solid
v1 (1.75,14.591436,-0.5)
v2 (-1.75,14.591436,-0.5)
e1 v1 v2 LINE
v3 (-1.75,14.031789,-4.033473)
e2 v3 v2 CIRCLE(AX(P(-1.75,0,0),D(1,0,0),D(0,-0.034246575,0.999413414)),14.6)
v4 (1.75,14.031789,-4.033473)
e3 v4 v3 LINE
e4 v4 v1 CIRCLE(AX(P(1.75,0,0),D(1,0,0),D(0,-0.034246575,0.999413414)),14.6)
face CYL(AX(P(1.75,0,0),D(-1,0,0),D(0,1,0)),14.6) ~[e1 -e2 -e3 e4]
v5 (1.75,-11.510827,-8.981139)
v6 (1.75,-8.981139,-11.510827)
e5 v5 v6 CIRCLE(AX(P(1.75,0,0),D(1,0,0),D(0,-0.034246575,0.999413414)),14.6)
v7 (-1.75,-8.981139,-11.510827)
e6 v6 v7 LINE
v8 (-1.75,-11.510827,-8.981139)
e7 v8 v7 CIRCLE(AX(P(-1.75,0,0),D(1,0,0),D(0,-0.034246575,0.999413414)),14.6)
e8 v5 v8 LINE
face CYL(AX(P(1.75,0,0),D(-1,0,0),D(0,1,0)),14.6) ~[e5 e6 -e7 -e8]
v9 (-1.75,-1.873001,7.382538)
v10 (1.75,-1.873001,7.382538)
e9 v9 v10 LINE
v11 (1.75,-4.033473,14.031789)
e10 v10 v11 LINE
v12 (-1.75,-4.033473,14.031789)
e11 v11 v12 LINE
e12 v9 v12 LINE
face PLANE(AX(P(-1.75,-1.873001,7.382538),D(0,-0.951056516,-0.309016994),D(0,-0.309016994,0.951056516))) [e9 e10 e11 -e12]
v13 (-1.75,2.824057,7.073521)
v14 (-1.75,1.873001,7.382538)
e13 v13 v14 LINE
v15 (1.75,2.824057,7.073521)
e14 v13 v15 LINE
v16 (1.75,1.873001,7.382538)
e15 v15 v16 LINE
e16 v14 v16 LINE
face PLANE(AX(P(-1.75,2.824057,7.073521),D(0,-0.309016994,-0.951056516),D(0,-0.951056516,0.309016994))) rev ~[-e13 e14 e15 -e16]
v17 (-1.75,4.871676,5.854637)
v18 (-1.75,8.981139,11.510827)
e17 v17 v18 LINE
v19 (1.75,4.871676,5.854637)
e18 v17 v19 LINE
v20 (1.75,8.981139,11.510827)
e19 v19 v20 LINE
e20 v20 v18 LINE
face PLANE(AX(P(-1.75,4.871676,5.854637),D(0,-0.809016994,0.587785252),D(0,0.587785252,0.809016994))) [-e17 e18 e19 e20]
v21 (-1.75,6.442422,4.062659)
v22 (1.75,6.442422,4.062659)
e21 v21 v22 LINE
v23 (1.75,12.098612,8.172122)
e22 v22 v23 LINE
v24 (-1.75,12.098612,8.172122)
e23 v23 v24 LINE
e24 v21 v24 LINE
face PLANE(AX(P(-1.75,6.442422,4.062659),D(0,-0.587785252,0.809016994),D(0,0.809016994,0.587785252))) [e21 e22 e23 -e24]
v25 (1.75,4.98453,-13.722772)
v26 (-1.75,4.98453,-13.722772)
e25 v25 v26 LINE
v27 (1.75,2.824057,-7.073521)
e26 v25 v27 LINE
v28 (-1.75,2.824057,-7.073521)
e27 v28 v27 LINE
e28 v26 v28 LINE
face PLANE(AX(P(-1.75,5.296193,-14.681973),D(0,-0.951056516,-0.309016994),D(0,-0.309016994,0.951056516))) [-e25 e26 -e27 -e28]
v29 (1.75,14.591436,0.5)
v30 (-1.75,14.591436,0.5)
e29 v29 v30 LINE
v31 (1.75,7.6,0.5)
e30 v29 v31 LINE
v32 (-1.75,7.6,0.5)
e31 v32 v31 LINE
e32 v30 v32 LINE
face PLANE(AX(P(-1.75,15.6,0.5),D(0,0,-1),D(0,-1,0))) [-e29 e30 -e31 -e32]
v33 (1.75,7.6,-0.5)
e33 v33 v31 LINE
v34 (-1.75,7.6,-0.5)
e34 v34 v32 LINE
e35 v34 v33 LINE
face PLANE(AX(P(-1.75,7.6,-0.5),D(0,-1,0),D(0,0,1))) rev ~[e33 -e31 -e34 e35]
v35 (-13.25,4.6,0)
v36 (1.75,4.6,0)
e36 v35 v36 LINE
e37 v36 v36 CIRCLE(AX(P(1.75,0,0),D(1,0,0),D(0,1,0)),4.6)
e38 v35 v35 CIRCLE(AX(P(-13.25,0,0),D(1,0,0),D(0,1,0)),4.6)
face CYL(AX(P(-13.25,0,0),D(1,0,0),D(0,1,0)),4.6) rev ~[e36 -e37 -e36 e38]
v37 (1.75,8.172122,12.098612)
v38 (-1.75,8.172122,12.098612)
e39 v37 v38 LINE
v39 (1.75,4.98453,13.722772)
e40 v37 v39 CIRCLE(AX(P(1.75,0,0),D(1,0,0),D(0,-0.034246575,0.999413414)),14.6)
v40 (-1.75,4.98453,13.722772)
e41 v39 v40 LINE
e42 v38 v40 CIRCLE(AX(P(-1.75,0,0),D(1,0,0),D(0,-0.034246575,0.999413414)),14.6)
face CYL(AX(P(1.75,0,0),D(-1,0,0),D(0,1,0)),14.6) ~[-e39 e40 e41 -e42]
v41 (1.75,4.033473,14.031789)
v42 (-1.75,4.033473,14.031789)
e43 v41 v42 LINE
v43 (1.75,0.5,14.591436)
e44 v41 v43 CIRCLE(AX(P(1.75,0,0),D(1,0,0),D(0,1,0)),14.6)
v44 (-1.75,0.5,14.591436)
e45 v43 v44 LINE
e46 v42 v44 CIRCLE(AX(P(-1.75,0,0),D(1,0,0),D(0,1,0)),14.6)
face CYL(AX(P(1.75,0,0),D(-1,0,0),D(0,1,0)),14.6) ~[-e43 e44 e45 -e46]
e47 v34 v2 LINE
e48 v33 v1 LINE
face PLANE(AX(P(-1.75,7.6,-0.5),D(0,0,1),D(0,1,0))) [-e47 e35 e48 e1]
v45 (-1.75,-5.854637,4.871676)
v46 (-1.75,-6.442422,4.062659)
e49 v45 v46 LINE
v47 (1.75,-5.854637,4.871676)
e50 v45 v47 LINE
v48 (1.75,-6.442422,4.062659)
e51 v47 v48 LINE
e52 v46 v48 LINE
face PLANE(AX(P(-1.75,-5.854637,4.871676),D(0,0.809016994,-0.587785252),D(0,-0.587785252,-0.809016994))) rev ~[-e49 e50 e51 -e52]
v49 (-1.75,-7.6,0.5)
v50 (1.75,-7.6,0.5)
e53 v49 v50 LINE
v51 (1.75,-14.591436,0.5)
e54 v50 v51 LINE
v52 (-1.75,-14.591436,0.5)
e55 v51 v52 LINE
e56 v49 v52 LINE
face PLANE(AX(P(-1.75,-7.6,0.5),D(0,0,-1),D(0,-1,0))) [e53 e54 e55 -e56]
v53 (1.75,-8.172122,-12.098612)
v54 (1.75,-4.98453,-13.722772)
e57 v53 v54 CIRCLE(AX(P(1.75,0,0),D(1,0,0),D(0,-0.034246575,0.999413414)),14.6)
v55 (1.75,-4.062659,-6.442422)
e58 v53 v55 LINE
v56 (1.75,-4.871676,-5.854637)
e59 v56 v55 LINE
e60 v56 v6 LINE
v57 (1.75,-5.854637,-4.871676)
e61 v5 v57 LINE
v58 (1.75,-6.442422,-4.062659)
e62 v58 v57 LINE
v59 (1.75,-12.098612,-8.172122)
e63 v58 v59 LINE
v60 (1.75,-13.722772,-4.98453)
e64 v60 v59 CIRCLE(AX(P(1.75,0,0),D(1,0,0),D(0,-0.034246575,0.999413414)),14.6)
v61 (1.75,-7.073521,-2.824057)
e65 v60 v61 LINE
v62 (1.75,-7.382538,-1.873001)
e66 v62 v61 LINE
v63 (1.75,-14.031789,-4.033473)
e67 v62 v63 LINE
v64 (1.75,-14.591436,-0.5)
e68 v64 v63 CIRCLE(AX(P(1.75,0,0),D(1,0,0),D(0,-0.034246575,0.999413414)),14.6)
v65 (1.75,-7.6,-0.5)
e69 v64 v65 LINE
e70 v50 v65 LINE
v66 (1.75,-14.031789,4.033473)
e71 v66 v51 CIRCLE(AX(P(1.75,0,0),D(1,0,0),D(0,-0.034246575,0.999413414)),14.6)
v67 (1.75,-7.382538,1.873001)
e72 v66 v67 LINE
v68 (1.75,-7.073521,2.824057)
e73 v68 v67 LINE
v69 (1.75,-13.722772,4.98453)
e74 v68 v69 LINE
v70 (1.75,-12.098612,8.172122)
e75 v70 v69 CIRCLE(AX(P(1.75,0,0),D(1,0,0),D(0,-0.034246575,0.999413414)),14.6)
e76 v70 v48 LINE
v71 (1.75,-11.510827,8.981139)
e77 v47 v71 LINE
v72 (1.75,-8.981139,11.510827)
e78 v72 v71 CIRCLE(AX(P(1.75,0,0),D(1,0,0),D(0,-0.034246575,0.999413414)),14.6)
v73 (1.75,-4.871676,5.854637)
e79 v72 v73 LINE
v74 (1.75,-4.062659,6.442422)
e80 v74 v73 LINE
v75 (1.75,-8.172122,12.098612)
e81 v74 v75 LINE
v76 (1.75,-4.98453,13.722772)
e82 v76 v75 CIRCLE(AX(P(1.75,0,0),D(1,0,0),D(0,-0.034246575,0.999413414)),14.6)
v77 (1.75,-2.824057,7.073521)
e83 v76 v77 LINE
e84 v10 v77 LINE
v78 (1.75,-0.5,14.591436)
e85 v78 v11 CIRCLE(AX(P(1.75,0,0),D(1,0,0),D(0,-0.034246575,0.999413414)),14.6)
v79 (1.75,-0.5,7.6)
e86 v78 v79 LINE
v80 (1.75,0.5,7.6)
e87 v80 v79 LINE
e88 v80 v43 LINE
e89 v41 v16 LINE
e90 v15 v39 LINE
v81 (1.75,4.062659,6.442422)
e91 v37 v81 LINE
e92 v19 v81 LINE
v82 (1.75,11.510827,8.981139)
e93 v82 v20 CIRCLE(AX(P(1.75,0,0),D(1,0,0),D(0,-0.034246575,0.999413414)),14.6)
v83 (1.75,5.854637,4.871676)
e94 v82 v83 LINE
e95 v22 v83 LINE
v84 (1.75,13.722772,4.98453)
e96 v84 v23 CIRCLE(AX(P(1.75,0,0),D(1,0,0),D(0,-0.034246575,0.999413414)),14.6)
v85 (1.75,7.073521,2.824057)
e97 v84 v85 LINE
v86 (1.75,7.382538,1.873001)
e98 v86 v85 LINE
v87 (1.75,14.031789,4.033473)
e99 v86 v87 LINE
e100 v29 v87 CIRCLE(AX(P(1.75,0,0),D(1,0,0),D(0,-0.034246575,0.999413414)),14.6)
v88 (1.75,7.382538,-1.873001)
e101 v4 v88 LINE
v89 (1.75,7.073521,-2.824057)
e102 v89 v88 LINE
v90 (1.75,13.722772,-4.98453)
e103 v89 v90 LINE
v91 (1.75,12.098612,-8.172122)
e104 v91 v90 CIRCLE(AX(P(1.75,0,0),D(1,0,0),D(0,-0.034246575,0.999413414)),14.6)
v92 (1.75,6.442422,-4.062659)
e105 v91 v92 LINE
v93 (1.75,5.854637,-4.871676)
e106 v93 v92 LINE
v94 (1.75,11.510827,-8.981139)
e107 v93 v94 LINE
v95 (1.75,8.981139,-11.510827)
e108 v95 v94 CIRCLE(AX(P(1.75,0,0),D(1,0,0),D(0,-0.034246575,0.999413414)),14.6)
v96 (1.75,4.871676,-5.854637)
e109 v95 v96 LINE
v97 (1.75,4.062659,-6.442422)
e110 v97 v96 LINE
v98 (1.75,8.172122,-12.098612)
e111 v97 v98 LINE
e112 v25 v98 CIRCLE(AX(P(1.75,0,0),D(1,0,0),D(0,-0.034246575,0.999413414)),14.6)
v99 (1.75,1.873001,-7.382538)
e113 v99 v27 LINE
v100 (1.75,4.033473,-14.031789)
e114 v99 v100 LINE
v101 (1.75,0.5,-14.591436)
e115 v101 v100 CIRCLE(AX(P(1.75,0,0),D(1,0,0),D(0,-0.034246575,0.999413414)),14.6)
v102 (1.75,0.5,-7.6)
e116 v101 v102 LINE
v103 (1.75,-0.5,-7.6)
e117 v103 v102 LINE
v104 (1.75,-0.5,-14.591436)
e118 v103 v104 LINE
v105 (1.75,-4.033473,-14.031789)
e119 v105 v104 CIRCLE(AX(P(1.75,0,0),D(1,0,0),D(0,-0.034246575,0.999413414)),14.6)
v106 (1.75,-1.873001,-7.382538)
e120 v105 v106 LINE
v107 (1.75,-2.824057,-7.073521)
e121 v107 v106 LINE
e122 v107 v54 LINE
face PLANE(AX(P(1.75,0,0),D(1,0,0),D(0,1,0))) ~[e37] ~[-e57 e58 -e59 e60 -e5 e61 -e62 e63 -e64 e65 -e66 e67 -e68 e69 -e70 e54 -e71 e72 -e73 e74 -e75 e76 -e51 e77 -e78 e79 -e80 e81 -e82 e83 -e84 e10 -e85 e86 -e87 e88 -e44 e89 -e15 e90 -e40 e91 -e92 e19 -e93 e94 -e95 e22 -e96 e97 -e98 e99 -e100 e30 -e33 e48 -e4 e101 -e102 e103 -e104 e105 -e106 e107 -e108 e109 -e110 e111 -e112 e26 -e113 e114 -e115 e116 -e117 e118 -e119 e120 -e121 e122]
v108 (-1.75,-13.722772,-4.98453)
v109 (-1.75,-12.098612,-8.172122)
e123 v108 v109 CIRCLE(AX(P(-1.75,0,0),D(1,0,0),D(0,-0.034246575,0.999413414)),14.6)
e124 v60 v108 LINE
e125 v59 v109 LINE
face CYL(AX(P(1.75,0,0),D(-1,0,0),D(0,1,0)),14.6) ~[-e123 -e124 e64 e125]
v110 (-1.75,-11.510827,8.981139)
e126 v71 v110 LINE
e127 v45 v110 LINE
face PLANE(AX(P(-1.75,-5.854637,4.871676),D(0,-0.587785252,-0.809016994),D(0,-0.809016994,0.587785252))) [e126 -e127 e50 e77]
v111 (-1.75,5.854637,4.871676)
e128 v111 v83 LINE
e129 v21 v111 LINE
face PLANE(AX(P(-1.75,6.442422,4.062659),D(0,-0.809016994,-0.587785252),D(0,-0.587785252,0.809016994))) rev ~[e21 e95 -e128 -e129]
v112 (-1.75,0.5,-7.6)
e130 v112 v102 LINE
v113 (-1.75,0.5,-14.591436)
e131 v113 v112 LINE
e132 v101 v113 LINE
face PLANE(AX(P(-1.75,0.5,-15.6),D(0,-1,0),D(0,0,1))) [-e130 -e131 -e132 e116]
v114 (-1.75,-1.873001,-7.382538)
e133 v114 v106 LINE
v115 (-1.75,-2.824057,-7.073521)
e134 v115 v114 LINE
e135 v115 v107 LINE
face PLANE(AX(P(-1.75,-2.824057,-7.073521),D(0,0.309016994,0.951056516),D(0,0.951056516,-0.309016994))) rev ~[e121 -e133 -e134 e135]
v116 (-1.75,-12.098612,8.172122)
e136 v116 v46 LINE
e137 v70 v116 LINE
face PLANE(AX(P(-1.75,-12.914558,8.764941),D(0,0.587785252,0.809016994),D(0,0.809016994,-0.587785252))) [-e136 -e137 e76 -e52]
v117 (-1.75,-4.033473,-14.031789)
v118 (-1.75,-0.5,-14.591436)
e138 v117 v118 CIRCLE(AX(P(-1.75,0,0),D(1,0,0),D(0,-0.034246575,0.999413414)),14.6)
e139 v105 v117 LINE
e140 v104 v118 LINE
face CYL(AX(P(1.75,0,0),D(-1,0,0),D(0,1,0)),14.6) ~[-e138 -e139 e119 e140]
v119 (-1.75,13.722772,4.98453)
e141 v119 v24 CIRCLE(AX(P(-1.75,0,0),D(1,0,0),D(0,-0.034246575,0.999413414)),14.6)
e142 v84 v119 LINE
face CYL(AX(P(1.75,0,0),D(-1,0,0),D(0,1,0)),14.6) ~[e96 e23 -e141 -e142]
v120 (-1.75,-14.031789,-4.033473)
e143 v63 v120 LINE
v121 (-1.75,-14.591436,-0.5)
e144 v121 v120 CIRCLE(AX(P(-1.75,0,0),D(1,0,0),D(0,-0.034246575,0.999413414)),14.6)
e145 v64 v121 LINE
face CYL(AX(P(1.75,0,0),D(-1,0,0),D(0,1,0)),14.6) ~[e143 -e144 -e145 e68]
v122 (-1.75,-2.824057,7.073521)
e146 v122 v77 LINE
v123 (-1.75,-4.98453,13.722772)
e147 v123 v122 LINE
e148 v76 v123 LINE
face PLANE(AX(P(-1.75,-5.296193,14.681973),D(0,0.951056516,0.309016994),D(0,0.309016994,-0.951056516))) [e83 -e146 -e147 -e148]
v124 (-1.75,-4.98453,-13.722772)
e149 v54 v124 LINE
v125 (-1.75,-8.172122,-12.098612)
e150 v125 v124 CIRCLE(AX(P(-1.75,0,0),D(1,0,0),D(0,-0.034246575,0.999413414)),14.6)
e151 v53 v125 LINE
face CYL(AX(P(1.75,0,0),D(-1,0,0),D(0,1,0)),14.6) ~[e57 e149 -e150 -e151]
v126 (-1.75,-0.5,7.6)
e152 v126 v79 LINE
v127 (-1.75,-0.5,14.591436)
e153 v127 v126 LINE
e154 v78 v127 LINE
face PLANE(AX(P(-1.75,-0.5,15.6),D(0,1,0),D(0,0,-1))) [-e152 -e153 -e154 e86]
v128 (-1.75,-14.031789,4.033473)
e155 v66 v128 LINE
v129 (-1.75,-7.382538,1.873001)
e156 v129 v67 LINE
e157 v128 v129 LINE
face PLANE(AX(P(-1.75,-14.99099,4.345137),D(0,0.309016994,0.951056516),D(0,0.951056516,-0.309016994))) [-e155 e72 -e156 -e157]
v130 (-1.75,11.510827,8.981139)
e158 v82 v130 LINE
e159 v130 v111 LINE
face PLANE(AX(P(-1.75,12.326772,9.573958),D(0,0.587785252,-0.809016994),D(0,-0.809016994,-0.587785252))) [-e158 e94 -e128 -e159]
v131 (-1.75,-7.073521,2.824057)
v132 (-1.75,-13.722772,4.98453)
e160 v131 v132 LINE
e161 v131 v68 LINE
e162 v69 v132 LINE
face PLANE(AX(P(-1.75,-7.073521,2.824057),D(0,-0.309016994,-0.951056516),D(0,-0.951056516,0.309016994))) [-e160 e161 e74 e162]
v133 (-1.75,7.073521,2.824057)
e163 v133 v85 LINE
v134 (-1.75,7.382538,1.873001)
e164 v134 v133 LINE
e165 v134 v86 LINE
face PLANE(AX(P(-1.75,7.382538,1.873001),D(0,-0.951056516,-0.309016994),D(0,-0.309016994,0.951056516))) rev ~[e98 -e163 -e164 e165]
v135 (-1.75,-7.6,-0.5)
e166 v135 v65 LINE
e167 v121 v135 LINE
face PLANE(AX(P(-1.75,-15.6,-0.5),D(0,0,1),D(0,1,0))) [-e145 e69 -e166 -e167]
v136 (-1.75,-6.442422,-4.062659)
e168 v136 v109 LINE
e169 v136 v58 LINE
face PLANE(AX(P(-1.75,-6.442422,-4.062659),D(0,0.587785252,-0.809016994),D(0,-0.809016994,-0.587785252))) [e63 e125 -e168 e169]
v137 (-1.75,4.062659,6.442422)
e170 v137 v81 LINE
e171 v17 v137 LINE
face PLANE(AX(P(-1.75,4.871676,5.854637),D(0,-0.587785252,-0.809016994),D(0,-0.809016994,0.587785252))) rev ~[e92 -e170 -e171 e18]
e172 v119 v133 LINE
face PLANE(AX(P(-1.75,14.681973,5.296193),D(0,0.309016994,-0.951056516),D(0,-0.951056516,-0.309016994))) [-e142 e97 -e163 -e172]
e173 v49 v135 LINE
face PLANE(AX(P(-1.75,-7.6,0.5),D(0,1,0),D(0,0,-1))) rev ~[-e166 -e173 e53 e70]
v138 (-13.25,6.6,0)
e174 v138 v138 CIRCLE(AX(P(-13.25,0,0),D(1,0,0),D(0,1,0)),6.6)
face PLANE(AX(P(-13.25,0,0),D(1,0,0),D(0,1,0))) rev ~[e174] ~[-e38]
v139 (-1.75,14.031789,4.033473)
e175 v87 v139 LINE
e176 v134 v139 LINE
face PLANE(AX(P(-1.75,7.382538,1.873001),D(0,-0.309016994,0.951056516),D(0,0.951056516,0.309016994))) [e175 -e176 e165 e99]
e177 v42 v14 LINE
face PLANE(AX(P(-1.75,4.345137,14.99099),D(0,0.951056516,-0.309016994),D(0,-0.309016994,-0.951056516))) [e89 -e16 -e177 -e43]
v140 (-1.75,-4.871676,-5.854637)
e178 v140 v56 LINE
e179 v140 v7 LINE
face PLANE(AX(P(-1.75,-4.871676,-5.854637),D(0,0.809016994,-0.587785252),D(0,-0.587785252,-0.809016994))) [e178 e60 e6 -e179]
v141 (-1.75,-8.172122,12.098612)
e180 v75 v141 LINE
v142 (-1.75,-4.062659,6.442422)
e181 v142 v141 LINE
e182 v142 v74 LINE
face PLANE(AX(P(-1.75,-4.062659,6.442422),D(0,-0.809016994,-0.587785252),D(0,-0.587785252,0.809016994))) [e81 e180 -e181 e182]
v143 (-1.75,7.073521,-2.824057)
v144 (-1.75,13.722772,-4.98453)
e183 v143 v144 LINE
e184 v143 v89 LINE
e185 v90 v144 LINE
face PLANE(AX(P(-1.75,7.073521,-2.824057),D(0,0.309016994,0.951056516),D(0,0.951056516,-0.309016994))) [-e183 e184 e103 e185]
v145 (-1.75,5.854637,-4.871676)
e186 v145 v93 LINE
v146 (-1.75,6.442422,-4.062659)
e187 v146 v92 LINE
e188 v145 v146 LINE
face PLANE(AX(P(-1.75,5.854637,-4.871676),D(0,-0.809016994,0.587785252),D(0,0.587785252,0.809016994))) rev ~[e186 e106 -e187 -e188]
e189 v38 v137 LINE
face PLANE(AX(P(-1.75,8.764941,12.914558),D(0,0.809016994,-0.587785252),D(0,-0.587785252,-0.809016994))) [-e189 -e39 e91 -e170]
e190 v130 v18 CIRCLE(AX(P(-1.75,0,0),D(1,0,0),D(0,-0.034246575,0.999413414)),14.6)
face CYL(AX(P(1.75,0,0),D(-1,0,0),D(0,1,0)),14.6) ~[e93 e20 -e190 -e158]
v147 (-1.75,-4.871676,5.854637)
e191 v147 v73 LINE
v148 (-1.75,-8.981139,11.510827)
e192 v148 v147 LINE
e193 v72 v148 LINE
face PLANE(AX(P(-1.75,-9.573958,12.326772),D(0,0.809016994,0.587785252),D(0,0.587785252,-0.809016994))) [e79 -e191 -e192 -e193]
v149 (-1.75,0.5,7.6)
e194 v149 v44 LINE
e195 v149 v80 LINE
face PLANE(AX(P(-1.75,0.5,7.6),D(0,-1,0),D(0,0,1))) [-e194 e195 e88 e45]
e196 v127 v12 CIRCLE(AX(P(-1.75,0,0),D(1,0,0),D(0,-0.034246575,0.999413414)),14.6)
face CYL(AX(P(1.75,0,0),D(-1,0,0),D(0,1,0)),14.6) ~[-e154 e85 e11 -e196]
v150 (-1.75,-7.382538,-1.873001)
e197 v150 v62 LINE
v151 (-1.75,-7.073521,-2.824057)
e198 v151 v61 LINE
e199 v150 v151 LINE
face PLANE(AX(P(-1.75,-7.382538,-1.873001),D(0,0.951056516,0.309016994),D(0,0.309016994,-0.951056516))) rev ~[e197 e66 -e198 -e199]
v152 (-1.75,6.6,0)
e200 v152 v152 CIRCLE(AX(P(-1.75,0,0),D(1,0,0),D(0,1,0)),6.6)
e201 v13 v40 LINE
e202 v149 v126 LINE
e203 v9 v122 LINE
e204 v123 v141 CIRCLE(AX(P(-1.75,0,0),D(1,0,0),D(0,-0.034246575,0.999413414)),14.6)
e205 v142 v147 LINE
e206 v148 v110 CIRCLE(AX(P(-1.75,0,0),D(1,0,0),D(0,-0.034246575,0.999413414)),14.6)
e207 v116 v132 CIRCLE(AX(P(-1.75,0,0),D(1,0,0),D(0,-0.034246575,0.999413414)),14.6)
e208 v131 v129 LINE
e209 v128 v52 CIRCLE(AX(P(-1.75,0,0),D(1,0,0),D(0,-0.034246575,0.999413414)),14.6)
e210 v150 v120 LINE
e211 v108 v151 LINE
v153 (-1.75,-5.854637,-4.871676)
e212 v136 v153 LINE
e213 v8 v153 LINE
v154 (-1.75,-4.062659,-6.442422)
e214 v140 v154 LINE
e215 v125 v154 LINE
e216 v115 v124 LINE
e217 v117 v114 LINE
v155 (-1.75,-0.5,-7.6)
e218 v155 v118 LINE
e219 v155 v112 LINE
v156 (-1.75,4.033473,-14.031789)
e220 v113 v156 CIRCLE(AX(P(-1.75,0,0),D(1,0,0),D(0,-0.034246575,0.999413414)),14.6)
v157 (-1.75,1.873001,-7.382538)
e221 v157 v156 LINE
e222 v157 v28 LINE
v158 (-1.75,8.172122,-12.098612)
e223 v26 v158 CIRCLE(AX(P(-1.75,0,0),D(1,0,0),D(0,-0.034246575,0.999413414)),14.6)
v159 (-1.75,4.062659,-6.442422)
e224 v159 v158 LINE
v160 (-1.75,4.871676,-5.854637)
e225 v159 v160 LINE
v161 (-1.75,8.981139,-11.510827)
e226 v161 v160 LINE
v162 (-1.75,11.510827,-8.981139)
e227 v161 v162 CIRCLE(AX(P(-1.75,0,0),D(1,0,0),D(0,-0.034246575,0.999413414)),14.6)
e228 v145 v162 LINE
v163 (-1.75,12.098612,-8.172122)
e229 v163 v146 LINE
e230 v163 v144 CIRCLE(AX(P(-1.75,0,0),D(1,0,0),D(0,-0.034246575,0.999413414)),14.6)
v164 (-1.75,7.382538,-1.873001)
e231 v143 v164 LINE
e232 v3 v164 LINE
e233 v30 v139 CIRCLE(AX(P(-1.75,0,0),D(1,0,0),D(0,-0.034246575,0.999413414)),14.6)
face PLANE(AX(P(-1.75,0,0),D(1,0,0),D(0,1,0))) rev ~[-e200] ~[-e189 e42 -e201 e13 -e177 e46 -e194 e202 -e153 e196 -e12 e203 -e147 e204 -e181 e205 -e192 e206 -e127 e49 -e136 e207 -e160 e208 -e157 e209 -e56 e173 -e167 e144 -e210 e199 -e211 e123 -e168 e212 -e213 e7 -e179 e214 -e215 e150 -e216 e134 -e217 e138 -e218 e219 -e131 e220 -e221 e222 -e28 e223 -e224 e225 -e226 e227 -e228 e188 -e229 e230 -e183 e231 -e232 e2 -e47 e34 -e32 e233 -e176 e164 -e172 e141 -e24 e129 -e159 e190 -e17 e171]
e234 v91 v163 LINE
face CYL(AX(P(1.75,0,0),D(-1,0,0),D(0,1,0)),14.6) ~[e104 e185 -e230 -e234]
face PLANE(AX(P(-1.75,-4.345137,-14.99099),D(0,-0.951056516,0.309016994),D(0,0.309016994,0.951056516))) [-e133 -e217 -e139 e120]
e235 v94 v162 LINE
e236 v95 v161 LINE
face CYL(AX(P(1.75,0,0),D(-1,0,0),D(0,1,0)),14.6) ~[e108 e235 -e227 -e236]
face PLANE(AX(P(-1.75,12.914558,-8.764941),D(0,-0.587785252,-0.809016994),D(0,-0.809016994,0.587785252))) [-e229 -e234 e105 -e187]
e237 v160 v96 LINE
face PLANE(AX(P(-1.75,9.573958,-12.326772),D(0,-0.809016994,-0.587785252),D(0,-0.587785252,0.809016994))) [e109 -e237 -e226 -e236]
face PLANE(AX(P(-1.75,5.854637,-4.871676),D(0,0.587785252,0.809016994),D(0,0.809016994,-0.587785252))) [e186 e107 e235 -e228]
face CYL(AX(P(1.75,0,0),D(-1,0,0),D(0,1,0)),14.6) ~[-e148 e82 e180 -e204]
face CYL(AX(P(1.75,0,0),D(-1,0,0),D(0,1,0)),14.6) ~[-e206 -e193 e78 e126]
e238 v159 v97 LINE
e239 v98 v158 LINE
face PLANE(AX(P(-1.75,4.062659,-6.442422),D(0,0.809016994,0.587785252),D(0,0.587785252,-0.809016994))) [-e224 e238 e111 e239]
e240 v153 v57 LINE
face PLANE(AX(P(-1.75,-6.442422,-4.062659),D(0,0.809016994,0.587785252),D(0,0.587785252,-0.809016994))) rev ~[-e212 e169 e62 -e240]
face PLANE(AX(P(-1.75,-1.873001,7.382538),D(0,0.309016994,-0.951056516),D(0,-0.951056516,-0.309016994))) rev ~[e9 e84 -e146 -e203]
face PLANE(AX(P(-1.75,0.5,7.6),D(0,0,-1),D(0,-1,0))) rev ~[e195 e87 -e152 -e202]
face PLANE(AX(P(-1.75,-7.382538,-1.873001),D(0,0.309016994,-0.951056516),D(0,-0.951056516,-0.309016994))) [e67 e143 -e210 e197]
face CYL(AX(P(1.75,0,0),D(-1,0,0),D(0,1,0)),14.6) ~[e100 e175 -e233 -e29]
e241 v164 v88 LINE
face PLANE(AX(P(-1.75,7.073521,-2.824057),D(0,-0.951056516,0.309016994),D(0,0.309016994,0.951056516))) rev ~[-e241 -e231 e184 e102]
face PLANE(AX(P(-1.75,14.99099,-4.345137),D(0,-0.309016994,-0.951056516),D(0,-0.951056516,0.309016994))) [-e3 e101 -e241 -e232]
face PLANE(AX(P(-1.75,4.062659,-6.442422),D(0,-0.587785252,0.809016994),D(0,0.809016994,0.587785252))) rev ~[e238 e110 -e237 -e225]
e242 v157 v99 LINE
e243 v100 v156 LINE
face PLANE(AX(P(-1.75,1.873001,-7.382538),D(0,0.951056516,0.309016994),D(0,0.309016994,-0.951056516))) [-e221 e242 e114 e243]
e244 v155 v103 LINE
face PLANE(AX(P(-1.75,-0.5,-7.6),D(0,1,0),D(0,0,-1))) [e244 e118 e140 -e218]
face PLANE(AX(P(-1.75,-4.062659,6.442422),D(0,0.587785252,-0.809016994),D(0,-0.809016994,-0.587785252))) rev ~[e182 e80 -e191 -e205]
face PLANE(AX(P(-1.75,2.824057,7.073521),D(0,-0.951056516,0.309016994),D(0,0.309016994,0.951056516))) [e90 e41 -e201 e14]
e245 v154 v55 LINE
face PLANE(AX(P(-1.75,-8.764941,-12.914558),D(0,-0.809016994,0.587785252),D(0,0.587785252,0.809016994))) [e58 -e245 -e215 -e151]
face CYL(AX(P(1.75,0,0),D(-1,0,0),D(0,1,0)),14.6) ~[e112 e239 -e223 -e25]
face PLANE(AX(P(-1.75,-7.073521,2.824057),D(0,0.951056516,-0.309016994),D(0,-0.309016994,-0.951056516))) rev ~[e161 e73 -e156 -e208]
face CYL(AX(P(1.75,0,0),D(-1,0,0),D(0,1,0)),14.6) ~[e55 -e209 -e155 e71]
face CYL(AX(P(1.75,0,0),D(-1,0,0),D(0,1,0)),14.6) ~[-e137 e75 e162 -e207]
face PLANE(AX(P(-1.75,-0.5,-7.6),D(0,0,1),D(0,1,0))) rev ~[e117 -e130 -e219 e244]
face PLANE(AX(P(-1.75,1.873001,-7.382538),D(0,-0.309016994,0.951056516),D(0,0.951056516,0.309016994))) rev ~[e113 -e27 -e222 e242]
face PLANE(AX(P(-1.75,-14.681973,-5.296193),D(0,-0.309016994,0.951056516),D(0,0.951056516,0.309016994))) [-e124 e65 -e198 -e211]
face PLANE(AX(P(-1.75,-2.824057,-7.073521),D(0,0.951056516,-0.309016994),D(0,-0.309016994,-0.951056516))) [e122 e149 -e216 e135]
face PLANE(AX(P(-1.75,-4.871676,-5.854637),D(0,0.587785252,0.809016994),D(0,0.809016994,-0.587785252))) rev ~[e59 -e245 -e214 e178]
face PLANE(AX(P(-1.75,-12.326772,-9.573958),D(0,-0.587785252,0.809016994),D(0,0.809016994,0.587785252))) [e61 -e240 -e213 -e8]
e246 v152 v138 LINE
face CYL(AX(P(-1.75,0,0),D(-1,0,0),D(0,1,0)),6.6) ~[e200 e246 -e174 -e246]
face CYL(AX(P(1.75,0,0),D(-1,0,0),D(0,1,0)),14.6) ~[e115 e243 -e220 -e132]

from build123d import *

# Parameters (mm, degrees)
POCKET_DEPTH       = 3.5
POLARPATTERN_COUNT = 20


with BuildPart() as part:
    # Sketch → Revolution (revolve)
    with BuildSketch(Plane.XY):
        Polygon((1.75, 4.6), (1.75, 14.6), (0, 14.6), (-1.75, 14.6), (-1.75, 6.6), (-13.25, 6.6), (-13.25, 4.6), align=None)
    revolve(axis=Axis((0, 0, 0), (1, 0, 0)))

    # Sketch001 (on Face4 of Revolution) → Pocket (cut)
    with BuildSketch(Plane(origin=(-1.75, 0, 0), x_dir=(0, -1, 0), z_dir=(-1, 0, 0))):
        Polygon((-0.5, 15.6), (0.5, 15.6), (0.5, 7.6), (0, 7.6), (-0.5, 7.6), align=None)
    pocket = extrude(amount=-POCKET_DEPTH, mode=Mode.SUBTRACT)

    # PolarPattern: Pocket ×20 about axis
    polarpattern_axis = Axis((-1.75, 0, 0), (-1, 0, 0))
    for i in range(1, POLARPATTERN_COUNT):
        add(pocket.rotate(polarpattern_axis, i * 360 / POLARPATTERN_COUNT), mode=Mode.SUBTRACT)


solid = part.part
